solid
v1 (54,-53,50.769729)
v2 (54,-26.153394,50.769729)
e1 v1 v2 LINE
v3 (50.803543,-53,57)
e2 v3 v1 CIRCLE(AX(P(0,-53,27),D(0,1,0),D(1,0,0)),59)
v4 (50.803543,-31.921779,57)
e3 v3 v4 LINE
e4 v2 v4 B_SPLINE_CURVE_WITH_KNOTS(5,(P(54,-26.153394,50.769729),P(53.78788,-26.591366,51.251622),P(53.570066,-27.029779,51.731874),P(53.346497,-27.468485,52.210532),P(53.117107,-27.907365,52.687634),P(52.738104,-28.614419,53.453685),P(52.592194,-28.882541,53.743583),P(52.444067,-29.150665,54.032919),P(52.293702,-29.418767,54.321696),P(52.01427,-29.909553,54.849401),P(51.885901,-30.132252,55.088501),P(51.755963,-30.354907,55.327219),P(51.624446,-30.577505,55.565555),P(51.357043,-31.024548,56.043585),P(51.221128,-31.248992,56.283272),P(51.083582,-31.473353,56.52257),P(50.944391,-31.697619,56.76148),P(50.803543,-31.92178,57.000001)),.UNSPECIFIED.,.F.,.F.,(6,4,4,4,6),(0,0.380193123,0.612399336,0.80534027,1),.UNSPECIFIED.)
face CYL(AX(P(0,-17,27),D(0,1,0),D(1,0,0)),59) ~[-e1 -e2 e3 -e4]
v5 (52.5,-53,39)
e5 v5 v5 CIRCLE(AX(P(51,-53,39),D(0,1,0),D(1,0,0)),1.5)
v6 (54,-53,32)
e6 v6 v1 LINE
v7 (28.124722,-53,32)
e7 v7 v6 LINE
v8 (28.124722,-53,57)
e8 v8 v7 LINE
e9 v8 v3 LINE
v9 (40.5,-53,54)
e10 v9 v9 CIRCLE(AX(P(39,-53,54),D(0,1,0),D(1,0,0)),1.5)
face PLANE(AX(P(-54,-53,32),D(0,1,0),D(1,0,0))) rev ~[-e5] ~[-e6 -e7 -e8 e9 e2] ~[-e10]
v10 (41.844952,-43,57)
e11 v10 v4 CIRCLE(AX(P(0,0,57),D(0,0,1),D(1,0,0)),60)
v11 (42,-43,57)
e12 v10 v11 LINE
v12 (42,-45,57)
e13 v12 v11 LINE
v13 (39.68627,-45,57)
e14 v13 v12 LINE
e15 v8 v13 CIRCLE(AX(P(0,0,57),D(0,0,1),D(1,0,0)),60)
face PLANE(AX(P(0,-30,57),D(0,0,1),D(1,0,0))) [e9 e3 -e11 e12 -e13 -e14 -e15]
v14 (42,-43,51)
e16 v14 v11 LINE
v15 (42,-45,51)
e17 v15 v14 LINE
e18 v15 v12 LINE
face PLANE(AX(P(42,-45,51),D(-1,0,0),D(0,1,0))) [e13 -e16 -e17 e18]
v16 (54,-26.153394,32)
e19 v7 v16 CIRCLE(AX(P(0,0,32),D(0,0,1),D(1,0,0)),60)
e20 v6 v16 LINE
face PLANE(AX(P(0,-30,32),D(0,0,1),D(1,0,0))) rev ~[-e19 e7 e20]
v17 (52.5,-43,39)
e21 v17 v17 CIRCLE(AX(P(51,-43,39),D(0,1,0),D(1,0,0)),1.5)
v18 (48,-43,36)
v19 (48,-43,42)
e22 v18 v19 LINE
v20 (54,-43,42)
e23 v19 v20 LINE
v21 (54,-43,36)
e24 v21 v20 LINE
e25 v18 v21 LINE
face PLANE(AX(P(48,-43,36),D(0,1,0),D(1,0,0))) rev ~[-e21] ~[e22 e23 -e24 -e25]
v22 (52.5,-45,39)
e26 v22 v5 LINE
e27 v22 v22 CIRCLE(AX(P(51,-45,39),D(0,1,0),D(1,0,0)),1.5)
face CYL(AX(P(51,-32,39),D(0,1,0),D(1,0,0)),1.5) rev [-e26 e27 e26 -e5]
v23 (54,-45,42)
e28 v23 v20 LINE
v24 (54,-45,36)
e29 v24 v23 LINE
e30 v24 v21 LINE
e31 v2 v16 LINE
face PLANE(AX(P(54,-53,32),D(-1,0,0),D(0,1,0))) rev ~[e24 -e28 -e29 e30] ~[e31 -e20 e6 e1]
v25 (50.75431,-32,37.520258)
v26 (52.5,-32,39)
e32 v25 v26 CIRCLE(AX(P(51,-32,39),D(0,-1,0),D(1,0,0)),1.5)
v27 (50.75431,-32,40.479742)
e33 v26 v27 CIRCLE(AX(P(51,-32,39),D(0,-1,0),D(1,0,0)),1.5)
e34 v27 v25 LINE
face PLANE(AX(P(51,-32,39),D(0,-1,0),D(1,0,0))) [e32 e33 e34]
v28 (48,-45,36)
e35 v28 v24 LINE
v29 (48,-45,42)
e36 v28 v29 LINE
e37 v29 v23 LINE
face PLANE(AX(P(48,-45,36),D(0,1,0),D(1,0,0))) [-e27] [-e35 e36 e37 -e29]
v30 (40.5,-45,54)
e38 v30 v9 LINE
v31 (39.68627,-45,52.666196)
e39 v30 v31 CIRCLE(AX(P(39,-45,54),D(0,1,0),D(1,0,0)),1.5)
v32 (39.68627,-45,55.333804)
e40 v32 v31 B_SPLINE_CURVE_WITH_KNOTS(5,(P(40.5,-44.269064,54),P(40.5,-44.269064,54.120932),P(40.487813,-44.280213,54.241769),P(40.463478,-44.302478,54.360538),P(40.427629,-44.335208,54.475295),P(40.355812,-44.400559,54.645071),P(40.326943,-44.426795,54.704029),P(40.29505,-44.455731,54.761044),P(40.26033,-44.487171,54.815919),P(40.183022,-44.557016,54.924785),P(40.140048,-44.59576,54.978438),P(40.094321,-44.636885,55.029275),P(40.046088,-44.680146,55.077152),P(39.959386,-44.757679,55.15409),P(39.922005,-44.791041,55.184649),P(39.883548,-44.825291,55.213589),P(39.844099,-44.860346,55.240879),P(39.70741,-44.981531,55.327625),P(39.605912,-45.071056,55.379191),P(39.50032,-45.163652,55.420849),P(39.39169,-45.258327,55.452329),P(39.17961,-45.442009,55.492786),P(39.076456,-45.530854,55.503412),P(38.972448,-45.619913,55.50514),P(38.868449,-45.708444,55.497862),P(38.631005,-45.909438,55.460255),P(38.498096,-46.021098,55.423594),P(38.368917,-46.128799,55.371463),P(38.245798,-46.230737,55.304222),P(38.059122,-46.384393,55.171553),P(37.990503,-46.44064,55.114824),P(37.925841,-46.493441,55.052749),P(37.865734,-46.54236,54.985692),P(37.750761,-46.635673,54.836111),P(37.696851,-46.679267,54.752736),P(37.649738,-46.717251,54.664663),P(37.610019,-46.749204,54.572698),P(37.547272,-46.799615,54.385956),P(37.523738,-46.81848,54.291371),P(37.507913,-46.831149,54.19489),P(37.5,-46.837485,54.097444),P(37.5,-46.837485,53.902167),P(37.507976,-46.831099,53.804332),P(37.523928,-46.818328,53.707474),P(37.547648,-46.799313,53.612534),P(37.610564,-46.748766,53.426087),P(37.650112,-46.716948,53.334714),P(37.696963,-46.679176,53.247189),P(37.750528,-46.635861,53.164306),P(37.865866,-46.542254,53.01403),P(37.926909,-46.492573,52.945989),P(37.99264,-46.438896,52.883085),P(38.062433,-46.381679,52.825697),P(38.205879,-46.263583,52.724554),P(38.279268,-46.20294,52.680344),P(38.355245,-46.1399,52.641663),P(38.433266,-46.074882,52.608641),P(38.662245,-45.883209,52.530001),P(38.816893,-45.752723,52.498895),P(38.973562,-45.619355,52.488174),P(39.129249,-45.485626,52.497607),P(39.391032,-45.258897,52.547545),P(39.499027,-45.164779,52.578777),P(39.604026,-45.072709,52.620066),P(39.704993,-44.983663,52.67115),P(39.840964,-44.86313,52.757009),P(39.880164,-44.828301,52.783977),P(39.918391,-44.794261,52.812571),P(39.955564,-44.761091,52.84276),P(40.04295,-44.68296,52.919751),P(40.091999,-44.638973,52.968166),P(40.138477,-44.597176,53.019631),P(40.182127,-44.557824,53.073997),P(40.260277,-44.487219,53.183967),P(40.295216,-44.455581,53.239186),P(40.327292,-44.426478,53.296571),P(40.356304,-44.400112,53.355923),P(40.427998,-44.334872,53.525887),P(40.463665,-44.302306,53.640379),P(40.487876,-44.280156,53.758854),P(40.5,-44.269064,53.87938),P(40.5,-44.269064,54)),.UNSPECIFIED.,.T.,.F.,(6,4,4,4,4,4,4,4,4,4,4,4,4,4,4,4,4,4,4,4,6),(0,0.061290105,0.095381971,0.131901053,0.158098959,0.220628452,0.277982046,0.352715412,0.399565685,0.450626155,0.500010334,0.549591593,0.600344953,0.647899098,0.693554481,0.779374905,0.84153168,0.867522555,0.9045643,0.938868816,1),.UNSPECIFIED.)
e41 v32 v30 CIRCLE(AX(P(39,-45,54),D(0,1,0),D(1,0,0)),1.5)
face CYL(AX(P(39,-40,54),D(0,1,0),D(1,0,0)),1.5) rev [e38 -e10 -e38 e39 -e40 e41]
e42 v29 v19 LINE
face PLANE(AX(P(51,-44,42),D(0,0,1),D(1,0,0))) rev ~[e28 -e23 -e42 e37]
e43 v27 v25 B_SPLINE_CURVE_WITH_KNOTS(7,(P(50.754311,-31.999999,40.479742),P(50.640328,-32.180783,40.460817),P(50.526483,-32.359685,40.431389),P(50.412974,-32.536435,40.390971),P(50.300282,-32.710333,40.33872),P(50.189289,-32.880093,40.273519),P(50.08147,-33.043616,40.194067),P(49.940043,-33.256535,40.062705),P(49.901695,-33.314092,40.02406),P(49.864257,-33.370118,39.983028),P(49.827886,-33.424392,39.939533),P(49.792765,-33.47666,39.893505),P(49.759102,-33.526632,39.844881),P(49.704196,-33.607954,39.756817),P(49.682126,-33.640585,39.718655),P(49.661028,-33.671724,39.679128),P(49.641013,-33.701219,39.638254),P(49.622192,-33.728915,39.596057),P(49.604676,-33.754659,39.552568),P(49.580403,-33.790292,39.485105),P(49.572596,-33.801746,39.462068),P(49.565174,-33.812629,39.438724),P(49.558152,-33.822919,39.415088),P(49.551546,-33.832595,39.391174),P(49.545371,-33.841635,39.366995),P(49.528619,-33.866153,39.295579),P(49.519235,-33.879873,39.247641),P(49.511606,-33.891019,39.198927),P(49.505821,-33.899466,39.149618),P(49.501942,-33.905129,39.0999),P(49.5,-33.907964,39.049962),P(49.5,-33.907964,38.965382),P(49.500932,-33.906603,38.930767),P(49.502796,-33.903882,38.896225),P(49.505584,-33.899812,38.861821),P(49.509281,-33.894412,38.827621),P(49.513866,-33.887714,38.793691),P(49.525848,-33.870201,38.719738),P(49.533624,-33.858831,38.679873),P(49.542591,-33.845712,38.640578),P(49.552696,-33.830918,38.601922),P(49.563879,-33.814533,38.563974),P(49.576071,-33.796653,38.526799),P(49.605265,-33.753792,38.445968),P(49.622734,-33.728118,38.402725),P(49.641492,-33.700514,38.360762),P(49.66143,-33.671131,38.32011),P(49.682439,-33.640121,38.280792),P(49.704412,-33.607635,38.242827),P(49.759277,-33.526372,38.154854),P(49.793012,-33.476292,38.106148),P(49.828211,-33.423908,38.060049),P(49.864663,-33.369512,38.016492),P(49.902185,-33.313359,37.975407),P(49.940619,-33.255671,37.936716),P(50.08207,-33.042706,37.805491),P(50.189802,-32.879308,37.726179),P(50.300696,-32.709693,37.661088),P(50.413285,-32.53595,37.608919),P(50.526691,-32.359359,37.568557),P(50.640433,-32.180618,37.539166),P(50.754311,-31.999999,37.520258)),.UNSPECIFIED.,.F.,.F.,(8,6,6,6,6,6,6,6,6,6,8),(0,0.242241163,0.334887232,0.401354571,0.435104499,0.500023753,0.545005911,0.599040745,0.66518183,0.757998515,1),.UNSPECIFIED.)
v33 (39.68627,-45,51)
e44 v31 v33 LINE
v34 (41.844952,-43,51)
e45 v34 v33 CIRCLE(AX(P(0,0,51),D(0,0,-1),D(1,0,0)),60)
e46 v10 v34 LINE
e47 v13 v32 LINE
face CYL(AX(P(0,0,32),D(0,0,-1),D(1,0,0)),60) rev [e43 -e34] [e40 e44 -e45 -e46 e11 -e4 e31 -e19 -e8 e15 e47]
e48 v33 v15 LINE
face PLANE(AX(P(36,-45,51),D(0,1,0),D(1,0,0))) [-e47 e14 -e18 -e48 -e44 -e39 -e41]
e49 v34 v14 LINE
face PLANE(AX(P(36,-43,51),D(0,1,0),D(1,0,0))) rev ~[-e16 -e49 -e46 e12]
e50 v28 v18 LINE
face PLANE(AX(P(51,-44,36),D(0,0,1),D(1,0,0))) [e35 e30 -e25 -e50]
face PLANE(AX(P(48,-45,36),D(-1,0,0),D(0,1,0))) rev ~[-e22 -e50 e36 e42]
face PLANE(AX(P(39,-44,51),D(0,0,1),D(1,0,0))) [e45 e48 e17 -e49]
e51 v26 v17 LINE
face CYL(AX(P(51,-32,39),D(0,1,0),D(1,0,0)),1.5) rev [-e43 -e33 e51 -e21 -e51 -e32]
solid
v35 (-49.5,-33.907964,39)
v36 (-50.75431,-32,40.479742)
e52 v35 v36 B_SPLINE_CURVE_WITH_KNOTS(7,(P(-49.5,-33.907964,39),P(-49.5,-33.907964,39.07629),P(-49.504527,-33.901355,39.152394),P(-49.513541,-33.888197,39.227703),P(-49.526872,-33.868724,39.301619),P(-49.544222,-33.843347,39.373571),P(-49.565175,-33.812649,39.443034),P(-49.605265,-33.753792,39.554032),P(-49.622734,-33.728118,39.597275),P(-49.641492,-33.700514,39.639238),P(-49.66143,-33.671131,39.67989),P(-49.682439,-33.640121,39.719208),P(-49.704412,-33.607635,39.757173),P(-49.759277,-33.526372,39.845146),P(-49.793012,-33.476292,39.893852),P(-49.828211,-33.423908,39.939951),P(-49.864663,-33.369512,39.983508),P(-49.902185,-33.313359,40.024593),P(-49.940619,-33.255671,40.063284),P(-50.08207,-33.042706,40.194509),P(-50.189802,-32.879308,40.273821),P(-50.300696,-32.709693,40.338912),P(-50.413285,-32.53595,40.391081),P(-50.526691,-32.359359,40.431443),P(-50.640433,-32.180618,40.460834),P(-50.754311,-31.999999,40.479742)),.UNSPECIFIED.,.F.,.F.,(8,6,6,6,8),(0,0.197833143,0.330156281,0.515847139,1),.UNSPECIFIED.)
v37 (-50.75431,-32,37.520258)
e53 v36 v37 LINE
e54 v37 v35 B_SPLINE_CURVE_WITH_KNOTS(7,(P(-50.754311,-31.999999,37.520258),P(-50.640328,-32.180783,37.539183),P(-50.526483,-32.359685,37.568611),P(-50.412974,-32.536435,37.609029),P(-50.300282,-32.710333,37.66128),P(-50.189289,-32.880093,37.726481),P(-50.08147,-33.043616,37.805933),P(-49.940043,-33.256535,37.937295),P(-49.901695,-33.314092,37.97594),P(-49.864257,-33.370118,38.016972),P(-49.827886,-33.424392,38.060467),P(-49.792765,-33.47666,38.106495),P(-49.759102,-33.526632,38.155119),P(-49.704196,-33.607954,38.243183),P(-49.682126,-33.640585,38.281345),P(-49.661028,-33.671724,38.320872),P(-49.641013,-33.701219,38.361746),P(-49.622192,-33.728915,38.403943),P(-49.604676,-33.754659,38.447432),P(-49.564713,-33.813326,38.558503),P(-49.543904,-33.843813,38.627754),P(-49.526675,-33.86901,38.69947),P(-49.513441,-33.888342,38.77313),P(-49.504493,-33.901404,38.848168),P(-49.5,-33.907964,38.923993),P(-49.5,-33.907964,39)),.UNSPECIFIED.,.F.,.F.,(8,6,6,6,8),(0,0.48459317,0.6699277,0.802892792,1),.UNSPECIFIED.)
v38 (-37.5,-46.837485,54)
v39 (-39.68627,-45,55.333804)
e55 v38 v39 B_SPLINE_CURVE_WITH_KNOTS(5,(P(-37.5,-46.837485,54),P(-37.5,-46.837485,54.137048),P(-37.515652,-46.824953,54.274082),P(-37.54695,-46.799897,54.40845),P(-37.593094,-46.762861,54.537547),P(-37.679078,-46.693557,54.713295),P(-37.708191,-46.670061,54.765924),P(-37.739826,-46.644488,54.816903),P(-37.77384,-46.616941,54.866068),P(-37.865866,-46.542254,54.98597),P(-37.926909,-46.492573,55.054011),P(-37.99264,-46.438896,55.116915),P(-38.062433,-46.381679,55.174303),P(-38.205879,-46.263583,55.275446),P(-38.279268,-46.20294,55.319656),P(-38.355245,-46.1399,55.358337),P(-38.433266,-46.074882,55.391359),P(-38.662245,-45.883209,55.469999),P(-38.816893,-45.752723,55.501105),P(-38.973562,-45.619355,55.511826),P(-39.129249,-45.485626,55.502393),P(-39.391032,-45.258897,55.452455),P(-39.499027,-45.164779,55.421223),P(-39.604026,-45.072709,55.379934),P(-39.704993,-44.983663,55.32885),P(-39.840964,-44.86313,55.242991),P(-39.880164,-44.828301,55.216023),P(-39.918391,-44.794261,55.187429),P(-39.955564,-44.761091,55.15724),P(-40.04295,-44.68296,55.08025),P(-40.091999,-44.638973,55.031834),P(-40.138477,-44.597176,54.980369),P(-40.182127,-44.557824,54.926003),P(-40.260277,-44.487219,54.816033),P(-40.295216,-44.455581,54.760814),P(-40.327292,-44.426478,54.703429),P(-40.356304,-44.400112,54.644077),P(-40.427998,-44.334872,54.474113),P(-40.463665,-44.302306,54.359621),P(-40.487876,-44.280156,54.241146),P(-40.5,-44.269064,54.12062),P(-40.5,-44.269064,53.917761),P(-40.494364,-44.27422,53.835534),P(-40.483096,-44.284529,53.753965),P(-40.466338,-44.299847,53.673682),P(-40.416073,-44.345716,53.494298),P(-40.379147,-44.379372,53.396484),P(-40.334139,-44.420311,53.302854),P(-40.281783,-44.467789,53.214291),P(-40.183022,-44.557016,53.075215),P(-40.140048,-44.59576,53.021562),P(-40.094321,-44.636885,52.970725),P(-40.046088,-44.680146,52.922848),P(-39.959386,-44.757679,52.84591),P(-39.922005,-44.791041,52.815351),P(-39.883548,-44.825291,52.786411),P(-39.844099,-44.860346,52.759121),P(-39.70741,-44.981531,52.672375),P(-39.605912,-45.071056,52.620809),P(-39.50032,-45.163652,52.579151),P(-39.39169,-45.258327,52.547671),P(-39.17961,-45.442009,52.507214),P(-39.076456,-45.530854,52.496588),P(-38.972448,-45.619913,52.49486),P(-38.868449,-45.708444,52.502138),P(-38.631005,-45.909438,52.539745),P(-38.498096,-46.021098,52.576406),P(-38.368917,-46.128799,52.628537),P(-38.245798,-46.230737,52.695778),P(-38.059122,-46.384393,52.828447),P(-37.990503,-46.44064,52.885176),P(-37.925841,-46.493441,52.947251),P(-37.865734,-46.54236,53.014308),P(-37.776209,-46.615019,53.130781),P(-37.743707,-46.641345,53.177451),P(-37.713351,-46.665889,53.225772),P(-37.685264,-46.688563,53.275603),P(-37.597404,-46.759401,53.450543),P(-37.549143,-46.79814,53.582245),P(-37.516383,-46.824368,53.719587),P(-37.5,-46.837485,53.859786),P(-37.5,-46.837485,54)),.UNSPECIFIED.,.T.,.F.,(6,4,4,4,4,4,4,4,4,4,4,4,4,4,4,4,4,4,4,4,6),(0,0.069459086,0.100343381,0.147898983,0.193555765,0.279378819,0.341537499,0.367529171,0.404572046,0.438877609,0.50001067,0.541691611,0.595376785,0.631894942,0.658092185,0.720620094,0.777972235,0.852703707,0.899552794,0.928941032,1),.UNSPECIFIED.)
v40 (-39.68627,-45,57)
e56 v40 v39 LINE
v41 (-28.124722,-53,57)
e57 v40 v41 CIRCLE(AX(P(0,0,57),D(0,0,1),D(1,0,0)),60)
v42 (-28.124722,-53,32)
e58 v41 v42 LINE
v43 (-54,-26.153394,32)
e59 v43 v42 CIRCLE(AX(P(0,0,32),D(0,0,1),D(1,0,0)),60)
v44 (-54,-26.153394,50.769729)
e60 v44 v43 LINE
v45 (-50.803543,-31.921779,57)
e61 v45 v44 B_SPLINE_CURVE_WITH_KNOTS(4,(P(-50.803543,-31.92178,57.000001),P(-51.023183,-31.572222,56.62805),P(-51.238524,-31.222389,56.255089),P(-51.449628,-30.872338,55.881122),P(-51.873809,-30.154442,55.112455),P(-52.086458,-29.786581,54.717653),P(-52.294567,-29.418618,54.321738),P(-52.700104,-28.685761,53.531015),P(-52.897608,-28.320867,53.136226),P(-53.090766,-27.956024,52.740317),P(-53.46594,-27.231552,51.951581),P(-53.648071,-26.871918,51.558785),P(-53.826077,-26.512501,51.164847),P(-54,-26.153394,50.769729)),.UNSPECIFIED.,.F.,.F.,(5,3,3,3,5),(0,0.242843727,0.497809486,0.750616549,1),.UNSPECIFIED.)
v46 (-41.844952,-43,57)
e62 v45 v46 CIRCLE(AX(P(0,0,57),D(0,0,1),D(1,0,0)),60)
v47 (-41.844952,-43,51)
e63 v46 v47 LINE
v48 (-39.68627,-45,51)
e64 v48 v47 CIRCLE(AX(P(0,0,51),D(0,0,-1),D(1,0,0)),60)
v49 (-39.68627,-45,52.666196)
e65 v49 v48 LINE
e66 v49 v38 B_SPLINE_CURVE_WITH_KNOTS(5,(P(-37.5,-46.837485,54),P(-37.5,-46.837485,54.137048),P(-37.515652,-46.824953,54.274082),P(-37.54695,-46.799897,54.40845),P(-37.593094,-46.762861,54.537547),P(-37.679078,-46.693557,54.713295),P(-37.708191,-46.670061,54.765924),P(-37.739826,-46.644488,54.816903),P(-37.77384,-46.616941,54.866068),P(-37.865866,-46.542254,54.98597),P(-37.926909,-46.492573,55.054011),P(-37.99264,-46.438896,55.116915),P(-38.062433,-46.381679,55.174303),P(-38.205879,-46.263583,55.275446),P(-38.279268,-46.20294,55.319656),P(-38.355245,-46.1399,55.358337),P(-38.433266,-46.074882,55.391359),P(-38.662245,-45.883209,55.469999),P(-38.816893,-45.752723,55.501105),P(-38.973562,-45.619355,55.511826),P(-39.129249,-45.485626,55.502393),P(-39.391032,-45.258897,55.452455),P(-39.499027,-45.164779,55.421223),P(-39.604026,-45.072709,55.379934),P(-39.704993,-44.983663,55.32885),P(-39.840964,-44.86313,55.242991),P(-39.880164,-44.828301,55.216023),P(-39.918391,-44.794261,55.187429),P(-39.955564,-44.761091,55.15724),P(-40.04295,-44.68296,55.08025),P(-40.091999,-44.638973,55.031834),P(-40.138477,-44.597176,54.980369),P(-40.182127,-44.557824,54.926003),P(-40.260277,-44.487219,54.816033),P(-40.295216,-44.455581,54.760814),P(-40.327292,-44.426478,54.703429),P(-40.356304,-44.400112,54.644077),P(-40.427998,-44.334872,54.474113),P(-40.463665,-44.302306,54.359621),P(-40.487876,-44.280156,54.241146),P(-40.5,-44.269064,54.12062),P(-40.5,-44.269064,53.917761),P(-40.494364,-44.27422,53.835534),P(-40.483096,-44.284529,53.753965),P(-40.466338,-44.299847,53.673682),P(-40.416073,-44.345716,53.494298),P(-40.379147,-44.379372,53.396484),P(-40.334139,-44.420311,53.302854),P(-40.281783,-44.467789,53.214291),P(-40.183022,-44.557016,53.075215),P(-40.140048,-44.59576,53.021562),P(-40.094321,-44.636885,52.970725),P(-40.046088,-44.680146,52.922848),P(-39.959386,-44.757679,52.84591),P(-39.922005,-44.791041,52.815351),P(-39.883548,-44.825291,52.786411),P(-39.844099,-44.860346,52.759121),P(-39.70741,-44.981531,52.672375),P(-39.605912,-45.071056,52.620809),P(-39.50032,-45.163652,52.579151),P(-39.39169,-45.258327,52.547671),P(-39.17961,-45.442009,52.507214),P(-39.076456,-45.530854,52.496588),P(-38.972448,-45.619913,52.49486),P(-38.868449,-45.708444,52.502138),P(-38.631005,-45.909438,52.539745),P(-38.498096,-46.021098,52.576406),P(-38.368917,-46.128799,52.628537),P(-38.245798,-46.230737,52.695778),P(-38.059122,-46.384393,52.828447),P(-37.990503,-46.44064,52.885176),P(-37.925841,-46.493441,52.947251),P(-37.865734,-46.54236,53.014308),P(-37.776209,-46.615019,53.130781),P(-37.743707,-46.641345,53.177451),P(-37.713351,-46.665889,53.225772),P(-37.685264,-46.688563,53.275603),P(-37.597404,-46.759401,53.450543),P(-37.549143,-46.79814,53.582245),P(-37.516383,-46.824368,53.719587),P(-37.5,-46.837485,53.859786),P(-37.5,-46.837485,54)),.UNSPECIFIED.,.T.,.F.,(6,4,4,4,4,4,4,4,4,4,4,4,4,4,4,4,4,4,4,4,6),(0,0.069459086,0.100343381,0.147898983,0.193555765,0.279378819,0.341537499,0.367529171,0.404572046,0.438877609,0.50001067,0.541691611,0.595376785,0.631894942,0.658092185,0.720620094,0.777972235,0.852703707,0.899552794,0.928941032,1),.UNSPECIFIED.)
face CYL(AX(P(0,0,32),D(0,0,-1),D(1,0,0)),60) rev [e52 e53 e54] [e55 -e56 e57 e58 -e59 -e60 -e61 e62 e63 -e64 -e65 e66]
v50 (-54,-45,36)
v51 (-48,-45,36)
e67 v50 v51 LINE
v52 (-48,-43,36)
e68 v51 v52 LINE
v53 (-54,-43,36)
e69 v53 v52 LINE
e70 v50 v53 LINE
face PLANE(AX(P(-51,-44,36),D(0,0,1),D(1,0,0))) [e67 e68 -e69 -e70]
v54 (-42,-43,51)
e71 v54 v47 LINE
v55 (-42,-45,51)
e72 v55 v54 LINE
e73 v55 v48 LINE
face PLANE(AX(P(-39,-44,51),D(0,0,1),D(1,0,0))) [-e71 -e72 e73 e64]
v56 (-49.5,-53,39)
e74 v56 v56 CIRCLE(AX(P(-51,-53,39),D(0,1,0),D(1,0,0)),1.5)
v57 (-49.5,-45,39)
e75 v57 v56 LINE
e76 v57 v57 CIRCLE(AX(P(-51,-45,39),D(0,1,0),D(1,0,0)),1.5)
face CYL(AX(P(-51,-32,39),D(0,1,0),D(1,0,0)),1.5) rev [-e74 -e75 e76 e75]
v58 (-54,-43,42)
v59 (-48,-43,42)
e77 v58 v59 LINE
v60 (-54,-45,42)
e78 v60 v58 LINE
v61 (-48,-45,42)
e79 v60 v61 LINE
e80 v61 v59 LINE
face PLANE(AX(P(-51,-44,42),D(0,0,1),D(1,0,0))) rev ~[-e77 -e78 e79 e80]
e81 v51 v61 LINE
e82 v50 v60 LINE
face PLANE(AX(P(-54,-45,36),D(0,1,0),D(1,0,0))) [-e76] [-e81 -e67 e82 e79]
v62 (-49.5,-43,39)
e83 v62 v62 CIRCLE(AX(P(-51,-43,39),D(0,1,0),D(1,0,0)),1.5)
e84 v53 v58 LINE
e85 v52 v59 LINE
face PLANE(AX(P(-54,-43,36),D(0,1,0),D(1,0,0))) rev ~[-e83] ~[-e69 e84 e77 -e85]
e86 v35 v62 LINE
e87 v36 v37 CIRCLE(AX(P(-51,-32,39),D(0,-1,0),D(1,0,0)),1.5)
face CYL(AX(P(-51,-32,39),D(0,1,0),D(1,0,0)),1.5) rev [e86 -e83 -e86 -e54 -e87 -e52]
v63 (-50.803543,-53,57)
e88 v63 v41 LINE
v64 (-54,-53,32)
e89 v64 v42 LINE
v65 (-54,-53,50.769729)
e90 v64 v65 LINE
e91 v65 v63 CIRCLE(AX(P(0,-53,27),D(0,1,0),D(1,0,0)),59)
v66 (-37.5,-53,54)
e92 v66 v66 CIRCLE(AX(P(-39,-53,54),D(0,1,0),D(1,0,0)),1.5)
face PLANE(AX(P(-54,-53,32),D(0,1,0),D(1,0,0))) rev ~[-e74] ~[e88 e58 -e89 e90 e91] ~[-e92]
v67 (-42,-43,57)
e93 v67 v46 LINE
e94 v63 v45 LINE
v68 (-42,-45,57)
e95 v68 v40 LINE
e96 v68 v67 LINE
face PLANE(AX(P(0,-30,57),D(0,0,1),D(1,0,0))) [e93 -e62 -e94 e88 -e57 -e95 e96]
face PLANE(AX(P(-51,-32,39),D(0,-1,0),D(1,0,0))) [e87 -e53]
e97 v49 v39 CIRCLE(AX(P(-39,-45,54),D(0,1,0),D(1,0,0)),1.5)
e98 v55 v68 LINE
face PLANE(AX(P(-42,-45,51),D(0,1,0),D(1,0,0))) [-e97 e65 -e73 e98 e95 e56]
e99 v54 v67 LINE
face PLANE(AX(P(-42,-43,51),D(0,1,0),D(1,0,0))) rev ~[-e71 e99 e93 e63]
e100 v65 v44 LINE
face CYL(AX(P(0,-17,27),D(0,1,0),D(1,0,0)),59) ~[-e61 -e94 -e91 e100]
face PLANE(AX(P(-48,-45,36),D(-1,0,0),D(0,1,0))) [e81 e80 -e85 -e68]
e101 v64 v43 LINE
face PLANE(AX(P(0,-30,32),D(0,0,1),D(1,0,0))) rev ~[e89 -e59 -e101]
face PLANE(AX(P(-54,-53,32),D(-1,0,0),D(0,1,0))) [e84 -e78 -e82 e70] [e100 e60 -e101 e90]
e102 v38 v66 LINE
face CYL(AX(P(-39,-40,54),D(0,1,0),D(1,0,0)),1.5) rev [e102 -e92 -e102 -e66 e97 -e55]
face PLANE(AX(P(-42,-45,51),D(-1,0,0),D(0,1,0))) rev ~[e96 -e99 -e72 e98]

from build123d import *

# Parameters (mm, degrees)
CYLINDER1442_R     = 1.5
CYLINDER1442_DEPTH = 40
CYLINDER1441_R     = 1.5
CYLINDER1441_DEPTH = 40
BOX485_W           = 6
BOX485_H           = 2
BOX485_DEPTH       = 6
BOX486_W           = 6
BOX486_H           = 2
BOX486_DEPTH       = 6
CYLINDER1440_R     = 59
CYLINDER1440_DEPTH = 40
BOX475_W           = 6
BOX475_H           = 2
BOX475_DEPTH       = 6
BOX474_W           = 6
BOX474_H           = 2
BOX474_DEPTH       = 6
CYLINDER1428_R     = 1.5
CYLINDER1428_DEPTH = 40
CYLINDER1427_R     = 1.5
CYLINDER1427_DEPTH = 40
CYLINDER1439_R     = 60
CYLINDER1439_DEPTH = 25
BOX484_W           = 108
BOX484_H           = 46
BOX484_DEPTH       = 25


with BuildPart() as v_lec1442:
    # Cylinder1442 → Cylinder1442 (new body)
    with BuildSketch(Plane(origin=(-39, -40, 59), x_dir=(1, 0, 0), z_dir=(0, -1, 0))):
        Circle(CYLINDER1442_R)
    extrude(amount=CYLINDER1442_DEPTH)


with BuildPart() as compound847:
    # Cylinder1441 → Cylinder1441 (new body)
    with BuildSketch(Plane(origin=(39, -40, 59), x_dir=(1, 0, 0), z_dir=(0, -1, 0))):
        Circle(CYLINDER1441_R)
    extrude(amount=CYLINDER1441_DEPTH)

    # Compound847: union Válec1442
    add(v_lec1442.part)


with BuildPart() as compound847_1:
    # Compound847 placement: moved
    add(compound847.part.moved(Location((0, 0, -5))))


with BuildPart() as krychle485:
    # Box485 → Box485 (new body)
    with BuildSketch(Plane(origin=(36, -47, 56), x_dir=(1, 0, 0), z_dir=(0, 0, 1))):
        with Locations((3, 1)):
            Rectangle(BOX485_W, BOX485_H)
    extrude(amount=BOX485_DEPTH)


with BuildPart() as compound850:
    # Box486 → Box486 (new body)
    with BuildSketch(Plane(origin=(-42, -47, 56), x_dir=(1, 0, 0), z_dir=(0, 0, 1))):
        with Locations((3, 1)):
            Rectangle(BOX486_W, BOX486_H)
    extrude(amount=BOX486_DEPTH)

    # Compound850: union Krychle485
    add(krychle485.part)


with BuildPart() as compound850_1:
    # Compound850 placement: moved
    add(compound850.part.moved(Location((0, 2, -5))))


with BuildPart() as v_lec1440:
    # Cylinder1440 → Cylinder1440 (new body)
    with BuildSketch(Plane(origin=(0, -17, 27), x_dir=(1, 0, 0), z_dir=(0, -1, 0))):
        Circle(CYLINDER1440_R)
    extrude(amount=CYLINDER1440_DEPTH)


with BuildPart() as krychle475:
    # Box475 → Box475 (new body)
    with BuildSketch(Plane(origin=(-54, -45, 35), x_dir=(1, 0, 0), z_dir=(0, 0, 1))):
        with Locations((3, 1)):
            Rectangle(BOX475_W, BOX475_H)
    extrude(amount=BOX475_DEPTH)


with BuildPart() as compound853:
    # Box474 → Box474 (new body)
    with BuildSketch(Plane(origin=(48, -45, 35), x_dir=(1, 0, 0), z_dir=(0, 0, 1))):
        with Locations((3, 1)):
            Rectangle(BOX474_W, BOX474_H)
    extrude(amount=BOX474_DEPTH)

    # Compound853: union Krychle475
    add(krychle475.part)


with BuildPart() as compound853_1:
    # Compound853 placement: moved
    add(compound853.part.moved(Location((0, 0, -11))))


with BuildPart() as v_lec1428:
    # Cylinder1428 → Cylinder1428 (new body)
    with BuildSketch(Plane(origin=(51, -40, 38), x_dir=(1, 0, 0), z_dir=(0, -1, 0))):
        Circle(CYLINDER1428_R)
    extrude(amount=CYLINDER1428_DEPTH)


with BuildPart() as compound851:
    # Cylinder1427 → Cylinder1427 (new body)
    with BuildSketch(Plane(origin=(-51, -40, 38), x_dir=(1, 0, 0), z_dir=(0, -1, 0))):
        Circle(CYLINDER1427_R)
    extrude(amount=CYLINDER1427_DEPTH)

    # Compound851: union Válec1428
    add(v_lec1428.part)


with BuildPart() as compound851_1:
    # Compound851 placement: moved
    add(compound851.part.moved(Location((0, 8, -11))))


with BuildPart() as v_lec1439:
    # Cylinder1439 → Cylinder1439 (new body)
    with BuildSketch(Plane.XY.offset(20)):
        Circle(CYLINDER1439_R)
    extrude(amount=CYLINDER1439_DEPTH)


with BuildPart() as cut471:
    # Box484 → Box484 (new body)
    with BuildSketch(Plane(origin=(-54, -53, 20), x_dir=(1, 0, 0), z_dir=(0, 0, 1))):
        with Locations((54, 23)):
            Rectangle(BOX484_W, BOX484_H)
    extrude(amount=BOX484_DEPTH)

    # Cut458: cut Válec1439
    add(v_lec1439.part, mode=Mode.SUBTRACT)

    # Cut468: cut Compound851
    add(compound851_1.part, mode=Mode.SUBTRACT)

    # Cut455: cut Compound853
    add(compound853_1.part, mode=Mode.SUBTRACT)


with BuildPart() as cut471_1:
    # Cut455 placement: moved
    add(cut471.part.moved(Location((0, 0, 12))))

    # Common002: intersect Válec1440
    add(v_lec1440.part, mode=Mode.INTERSECT)

    # Cut470: cut Compound850
    add(compound850_1.part, mode=Mode.SUBTRACT)

    # Cut471: cut Compound847
    add(compound847_1.part, mode=Mode.SUBTRACT)


solid = cut471_1.part
